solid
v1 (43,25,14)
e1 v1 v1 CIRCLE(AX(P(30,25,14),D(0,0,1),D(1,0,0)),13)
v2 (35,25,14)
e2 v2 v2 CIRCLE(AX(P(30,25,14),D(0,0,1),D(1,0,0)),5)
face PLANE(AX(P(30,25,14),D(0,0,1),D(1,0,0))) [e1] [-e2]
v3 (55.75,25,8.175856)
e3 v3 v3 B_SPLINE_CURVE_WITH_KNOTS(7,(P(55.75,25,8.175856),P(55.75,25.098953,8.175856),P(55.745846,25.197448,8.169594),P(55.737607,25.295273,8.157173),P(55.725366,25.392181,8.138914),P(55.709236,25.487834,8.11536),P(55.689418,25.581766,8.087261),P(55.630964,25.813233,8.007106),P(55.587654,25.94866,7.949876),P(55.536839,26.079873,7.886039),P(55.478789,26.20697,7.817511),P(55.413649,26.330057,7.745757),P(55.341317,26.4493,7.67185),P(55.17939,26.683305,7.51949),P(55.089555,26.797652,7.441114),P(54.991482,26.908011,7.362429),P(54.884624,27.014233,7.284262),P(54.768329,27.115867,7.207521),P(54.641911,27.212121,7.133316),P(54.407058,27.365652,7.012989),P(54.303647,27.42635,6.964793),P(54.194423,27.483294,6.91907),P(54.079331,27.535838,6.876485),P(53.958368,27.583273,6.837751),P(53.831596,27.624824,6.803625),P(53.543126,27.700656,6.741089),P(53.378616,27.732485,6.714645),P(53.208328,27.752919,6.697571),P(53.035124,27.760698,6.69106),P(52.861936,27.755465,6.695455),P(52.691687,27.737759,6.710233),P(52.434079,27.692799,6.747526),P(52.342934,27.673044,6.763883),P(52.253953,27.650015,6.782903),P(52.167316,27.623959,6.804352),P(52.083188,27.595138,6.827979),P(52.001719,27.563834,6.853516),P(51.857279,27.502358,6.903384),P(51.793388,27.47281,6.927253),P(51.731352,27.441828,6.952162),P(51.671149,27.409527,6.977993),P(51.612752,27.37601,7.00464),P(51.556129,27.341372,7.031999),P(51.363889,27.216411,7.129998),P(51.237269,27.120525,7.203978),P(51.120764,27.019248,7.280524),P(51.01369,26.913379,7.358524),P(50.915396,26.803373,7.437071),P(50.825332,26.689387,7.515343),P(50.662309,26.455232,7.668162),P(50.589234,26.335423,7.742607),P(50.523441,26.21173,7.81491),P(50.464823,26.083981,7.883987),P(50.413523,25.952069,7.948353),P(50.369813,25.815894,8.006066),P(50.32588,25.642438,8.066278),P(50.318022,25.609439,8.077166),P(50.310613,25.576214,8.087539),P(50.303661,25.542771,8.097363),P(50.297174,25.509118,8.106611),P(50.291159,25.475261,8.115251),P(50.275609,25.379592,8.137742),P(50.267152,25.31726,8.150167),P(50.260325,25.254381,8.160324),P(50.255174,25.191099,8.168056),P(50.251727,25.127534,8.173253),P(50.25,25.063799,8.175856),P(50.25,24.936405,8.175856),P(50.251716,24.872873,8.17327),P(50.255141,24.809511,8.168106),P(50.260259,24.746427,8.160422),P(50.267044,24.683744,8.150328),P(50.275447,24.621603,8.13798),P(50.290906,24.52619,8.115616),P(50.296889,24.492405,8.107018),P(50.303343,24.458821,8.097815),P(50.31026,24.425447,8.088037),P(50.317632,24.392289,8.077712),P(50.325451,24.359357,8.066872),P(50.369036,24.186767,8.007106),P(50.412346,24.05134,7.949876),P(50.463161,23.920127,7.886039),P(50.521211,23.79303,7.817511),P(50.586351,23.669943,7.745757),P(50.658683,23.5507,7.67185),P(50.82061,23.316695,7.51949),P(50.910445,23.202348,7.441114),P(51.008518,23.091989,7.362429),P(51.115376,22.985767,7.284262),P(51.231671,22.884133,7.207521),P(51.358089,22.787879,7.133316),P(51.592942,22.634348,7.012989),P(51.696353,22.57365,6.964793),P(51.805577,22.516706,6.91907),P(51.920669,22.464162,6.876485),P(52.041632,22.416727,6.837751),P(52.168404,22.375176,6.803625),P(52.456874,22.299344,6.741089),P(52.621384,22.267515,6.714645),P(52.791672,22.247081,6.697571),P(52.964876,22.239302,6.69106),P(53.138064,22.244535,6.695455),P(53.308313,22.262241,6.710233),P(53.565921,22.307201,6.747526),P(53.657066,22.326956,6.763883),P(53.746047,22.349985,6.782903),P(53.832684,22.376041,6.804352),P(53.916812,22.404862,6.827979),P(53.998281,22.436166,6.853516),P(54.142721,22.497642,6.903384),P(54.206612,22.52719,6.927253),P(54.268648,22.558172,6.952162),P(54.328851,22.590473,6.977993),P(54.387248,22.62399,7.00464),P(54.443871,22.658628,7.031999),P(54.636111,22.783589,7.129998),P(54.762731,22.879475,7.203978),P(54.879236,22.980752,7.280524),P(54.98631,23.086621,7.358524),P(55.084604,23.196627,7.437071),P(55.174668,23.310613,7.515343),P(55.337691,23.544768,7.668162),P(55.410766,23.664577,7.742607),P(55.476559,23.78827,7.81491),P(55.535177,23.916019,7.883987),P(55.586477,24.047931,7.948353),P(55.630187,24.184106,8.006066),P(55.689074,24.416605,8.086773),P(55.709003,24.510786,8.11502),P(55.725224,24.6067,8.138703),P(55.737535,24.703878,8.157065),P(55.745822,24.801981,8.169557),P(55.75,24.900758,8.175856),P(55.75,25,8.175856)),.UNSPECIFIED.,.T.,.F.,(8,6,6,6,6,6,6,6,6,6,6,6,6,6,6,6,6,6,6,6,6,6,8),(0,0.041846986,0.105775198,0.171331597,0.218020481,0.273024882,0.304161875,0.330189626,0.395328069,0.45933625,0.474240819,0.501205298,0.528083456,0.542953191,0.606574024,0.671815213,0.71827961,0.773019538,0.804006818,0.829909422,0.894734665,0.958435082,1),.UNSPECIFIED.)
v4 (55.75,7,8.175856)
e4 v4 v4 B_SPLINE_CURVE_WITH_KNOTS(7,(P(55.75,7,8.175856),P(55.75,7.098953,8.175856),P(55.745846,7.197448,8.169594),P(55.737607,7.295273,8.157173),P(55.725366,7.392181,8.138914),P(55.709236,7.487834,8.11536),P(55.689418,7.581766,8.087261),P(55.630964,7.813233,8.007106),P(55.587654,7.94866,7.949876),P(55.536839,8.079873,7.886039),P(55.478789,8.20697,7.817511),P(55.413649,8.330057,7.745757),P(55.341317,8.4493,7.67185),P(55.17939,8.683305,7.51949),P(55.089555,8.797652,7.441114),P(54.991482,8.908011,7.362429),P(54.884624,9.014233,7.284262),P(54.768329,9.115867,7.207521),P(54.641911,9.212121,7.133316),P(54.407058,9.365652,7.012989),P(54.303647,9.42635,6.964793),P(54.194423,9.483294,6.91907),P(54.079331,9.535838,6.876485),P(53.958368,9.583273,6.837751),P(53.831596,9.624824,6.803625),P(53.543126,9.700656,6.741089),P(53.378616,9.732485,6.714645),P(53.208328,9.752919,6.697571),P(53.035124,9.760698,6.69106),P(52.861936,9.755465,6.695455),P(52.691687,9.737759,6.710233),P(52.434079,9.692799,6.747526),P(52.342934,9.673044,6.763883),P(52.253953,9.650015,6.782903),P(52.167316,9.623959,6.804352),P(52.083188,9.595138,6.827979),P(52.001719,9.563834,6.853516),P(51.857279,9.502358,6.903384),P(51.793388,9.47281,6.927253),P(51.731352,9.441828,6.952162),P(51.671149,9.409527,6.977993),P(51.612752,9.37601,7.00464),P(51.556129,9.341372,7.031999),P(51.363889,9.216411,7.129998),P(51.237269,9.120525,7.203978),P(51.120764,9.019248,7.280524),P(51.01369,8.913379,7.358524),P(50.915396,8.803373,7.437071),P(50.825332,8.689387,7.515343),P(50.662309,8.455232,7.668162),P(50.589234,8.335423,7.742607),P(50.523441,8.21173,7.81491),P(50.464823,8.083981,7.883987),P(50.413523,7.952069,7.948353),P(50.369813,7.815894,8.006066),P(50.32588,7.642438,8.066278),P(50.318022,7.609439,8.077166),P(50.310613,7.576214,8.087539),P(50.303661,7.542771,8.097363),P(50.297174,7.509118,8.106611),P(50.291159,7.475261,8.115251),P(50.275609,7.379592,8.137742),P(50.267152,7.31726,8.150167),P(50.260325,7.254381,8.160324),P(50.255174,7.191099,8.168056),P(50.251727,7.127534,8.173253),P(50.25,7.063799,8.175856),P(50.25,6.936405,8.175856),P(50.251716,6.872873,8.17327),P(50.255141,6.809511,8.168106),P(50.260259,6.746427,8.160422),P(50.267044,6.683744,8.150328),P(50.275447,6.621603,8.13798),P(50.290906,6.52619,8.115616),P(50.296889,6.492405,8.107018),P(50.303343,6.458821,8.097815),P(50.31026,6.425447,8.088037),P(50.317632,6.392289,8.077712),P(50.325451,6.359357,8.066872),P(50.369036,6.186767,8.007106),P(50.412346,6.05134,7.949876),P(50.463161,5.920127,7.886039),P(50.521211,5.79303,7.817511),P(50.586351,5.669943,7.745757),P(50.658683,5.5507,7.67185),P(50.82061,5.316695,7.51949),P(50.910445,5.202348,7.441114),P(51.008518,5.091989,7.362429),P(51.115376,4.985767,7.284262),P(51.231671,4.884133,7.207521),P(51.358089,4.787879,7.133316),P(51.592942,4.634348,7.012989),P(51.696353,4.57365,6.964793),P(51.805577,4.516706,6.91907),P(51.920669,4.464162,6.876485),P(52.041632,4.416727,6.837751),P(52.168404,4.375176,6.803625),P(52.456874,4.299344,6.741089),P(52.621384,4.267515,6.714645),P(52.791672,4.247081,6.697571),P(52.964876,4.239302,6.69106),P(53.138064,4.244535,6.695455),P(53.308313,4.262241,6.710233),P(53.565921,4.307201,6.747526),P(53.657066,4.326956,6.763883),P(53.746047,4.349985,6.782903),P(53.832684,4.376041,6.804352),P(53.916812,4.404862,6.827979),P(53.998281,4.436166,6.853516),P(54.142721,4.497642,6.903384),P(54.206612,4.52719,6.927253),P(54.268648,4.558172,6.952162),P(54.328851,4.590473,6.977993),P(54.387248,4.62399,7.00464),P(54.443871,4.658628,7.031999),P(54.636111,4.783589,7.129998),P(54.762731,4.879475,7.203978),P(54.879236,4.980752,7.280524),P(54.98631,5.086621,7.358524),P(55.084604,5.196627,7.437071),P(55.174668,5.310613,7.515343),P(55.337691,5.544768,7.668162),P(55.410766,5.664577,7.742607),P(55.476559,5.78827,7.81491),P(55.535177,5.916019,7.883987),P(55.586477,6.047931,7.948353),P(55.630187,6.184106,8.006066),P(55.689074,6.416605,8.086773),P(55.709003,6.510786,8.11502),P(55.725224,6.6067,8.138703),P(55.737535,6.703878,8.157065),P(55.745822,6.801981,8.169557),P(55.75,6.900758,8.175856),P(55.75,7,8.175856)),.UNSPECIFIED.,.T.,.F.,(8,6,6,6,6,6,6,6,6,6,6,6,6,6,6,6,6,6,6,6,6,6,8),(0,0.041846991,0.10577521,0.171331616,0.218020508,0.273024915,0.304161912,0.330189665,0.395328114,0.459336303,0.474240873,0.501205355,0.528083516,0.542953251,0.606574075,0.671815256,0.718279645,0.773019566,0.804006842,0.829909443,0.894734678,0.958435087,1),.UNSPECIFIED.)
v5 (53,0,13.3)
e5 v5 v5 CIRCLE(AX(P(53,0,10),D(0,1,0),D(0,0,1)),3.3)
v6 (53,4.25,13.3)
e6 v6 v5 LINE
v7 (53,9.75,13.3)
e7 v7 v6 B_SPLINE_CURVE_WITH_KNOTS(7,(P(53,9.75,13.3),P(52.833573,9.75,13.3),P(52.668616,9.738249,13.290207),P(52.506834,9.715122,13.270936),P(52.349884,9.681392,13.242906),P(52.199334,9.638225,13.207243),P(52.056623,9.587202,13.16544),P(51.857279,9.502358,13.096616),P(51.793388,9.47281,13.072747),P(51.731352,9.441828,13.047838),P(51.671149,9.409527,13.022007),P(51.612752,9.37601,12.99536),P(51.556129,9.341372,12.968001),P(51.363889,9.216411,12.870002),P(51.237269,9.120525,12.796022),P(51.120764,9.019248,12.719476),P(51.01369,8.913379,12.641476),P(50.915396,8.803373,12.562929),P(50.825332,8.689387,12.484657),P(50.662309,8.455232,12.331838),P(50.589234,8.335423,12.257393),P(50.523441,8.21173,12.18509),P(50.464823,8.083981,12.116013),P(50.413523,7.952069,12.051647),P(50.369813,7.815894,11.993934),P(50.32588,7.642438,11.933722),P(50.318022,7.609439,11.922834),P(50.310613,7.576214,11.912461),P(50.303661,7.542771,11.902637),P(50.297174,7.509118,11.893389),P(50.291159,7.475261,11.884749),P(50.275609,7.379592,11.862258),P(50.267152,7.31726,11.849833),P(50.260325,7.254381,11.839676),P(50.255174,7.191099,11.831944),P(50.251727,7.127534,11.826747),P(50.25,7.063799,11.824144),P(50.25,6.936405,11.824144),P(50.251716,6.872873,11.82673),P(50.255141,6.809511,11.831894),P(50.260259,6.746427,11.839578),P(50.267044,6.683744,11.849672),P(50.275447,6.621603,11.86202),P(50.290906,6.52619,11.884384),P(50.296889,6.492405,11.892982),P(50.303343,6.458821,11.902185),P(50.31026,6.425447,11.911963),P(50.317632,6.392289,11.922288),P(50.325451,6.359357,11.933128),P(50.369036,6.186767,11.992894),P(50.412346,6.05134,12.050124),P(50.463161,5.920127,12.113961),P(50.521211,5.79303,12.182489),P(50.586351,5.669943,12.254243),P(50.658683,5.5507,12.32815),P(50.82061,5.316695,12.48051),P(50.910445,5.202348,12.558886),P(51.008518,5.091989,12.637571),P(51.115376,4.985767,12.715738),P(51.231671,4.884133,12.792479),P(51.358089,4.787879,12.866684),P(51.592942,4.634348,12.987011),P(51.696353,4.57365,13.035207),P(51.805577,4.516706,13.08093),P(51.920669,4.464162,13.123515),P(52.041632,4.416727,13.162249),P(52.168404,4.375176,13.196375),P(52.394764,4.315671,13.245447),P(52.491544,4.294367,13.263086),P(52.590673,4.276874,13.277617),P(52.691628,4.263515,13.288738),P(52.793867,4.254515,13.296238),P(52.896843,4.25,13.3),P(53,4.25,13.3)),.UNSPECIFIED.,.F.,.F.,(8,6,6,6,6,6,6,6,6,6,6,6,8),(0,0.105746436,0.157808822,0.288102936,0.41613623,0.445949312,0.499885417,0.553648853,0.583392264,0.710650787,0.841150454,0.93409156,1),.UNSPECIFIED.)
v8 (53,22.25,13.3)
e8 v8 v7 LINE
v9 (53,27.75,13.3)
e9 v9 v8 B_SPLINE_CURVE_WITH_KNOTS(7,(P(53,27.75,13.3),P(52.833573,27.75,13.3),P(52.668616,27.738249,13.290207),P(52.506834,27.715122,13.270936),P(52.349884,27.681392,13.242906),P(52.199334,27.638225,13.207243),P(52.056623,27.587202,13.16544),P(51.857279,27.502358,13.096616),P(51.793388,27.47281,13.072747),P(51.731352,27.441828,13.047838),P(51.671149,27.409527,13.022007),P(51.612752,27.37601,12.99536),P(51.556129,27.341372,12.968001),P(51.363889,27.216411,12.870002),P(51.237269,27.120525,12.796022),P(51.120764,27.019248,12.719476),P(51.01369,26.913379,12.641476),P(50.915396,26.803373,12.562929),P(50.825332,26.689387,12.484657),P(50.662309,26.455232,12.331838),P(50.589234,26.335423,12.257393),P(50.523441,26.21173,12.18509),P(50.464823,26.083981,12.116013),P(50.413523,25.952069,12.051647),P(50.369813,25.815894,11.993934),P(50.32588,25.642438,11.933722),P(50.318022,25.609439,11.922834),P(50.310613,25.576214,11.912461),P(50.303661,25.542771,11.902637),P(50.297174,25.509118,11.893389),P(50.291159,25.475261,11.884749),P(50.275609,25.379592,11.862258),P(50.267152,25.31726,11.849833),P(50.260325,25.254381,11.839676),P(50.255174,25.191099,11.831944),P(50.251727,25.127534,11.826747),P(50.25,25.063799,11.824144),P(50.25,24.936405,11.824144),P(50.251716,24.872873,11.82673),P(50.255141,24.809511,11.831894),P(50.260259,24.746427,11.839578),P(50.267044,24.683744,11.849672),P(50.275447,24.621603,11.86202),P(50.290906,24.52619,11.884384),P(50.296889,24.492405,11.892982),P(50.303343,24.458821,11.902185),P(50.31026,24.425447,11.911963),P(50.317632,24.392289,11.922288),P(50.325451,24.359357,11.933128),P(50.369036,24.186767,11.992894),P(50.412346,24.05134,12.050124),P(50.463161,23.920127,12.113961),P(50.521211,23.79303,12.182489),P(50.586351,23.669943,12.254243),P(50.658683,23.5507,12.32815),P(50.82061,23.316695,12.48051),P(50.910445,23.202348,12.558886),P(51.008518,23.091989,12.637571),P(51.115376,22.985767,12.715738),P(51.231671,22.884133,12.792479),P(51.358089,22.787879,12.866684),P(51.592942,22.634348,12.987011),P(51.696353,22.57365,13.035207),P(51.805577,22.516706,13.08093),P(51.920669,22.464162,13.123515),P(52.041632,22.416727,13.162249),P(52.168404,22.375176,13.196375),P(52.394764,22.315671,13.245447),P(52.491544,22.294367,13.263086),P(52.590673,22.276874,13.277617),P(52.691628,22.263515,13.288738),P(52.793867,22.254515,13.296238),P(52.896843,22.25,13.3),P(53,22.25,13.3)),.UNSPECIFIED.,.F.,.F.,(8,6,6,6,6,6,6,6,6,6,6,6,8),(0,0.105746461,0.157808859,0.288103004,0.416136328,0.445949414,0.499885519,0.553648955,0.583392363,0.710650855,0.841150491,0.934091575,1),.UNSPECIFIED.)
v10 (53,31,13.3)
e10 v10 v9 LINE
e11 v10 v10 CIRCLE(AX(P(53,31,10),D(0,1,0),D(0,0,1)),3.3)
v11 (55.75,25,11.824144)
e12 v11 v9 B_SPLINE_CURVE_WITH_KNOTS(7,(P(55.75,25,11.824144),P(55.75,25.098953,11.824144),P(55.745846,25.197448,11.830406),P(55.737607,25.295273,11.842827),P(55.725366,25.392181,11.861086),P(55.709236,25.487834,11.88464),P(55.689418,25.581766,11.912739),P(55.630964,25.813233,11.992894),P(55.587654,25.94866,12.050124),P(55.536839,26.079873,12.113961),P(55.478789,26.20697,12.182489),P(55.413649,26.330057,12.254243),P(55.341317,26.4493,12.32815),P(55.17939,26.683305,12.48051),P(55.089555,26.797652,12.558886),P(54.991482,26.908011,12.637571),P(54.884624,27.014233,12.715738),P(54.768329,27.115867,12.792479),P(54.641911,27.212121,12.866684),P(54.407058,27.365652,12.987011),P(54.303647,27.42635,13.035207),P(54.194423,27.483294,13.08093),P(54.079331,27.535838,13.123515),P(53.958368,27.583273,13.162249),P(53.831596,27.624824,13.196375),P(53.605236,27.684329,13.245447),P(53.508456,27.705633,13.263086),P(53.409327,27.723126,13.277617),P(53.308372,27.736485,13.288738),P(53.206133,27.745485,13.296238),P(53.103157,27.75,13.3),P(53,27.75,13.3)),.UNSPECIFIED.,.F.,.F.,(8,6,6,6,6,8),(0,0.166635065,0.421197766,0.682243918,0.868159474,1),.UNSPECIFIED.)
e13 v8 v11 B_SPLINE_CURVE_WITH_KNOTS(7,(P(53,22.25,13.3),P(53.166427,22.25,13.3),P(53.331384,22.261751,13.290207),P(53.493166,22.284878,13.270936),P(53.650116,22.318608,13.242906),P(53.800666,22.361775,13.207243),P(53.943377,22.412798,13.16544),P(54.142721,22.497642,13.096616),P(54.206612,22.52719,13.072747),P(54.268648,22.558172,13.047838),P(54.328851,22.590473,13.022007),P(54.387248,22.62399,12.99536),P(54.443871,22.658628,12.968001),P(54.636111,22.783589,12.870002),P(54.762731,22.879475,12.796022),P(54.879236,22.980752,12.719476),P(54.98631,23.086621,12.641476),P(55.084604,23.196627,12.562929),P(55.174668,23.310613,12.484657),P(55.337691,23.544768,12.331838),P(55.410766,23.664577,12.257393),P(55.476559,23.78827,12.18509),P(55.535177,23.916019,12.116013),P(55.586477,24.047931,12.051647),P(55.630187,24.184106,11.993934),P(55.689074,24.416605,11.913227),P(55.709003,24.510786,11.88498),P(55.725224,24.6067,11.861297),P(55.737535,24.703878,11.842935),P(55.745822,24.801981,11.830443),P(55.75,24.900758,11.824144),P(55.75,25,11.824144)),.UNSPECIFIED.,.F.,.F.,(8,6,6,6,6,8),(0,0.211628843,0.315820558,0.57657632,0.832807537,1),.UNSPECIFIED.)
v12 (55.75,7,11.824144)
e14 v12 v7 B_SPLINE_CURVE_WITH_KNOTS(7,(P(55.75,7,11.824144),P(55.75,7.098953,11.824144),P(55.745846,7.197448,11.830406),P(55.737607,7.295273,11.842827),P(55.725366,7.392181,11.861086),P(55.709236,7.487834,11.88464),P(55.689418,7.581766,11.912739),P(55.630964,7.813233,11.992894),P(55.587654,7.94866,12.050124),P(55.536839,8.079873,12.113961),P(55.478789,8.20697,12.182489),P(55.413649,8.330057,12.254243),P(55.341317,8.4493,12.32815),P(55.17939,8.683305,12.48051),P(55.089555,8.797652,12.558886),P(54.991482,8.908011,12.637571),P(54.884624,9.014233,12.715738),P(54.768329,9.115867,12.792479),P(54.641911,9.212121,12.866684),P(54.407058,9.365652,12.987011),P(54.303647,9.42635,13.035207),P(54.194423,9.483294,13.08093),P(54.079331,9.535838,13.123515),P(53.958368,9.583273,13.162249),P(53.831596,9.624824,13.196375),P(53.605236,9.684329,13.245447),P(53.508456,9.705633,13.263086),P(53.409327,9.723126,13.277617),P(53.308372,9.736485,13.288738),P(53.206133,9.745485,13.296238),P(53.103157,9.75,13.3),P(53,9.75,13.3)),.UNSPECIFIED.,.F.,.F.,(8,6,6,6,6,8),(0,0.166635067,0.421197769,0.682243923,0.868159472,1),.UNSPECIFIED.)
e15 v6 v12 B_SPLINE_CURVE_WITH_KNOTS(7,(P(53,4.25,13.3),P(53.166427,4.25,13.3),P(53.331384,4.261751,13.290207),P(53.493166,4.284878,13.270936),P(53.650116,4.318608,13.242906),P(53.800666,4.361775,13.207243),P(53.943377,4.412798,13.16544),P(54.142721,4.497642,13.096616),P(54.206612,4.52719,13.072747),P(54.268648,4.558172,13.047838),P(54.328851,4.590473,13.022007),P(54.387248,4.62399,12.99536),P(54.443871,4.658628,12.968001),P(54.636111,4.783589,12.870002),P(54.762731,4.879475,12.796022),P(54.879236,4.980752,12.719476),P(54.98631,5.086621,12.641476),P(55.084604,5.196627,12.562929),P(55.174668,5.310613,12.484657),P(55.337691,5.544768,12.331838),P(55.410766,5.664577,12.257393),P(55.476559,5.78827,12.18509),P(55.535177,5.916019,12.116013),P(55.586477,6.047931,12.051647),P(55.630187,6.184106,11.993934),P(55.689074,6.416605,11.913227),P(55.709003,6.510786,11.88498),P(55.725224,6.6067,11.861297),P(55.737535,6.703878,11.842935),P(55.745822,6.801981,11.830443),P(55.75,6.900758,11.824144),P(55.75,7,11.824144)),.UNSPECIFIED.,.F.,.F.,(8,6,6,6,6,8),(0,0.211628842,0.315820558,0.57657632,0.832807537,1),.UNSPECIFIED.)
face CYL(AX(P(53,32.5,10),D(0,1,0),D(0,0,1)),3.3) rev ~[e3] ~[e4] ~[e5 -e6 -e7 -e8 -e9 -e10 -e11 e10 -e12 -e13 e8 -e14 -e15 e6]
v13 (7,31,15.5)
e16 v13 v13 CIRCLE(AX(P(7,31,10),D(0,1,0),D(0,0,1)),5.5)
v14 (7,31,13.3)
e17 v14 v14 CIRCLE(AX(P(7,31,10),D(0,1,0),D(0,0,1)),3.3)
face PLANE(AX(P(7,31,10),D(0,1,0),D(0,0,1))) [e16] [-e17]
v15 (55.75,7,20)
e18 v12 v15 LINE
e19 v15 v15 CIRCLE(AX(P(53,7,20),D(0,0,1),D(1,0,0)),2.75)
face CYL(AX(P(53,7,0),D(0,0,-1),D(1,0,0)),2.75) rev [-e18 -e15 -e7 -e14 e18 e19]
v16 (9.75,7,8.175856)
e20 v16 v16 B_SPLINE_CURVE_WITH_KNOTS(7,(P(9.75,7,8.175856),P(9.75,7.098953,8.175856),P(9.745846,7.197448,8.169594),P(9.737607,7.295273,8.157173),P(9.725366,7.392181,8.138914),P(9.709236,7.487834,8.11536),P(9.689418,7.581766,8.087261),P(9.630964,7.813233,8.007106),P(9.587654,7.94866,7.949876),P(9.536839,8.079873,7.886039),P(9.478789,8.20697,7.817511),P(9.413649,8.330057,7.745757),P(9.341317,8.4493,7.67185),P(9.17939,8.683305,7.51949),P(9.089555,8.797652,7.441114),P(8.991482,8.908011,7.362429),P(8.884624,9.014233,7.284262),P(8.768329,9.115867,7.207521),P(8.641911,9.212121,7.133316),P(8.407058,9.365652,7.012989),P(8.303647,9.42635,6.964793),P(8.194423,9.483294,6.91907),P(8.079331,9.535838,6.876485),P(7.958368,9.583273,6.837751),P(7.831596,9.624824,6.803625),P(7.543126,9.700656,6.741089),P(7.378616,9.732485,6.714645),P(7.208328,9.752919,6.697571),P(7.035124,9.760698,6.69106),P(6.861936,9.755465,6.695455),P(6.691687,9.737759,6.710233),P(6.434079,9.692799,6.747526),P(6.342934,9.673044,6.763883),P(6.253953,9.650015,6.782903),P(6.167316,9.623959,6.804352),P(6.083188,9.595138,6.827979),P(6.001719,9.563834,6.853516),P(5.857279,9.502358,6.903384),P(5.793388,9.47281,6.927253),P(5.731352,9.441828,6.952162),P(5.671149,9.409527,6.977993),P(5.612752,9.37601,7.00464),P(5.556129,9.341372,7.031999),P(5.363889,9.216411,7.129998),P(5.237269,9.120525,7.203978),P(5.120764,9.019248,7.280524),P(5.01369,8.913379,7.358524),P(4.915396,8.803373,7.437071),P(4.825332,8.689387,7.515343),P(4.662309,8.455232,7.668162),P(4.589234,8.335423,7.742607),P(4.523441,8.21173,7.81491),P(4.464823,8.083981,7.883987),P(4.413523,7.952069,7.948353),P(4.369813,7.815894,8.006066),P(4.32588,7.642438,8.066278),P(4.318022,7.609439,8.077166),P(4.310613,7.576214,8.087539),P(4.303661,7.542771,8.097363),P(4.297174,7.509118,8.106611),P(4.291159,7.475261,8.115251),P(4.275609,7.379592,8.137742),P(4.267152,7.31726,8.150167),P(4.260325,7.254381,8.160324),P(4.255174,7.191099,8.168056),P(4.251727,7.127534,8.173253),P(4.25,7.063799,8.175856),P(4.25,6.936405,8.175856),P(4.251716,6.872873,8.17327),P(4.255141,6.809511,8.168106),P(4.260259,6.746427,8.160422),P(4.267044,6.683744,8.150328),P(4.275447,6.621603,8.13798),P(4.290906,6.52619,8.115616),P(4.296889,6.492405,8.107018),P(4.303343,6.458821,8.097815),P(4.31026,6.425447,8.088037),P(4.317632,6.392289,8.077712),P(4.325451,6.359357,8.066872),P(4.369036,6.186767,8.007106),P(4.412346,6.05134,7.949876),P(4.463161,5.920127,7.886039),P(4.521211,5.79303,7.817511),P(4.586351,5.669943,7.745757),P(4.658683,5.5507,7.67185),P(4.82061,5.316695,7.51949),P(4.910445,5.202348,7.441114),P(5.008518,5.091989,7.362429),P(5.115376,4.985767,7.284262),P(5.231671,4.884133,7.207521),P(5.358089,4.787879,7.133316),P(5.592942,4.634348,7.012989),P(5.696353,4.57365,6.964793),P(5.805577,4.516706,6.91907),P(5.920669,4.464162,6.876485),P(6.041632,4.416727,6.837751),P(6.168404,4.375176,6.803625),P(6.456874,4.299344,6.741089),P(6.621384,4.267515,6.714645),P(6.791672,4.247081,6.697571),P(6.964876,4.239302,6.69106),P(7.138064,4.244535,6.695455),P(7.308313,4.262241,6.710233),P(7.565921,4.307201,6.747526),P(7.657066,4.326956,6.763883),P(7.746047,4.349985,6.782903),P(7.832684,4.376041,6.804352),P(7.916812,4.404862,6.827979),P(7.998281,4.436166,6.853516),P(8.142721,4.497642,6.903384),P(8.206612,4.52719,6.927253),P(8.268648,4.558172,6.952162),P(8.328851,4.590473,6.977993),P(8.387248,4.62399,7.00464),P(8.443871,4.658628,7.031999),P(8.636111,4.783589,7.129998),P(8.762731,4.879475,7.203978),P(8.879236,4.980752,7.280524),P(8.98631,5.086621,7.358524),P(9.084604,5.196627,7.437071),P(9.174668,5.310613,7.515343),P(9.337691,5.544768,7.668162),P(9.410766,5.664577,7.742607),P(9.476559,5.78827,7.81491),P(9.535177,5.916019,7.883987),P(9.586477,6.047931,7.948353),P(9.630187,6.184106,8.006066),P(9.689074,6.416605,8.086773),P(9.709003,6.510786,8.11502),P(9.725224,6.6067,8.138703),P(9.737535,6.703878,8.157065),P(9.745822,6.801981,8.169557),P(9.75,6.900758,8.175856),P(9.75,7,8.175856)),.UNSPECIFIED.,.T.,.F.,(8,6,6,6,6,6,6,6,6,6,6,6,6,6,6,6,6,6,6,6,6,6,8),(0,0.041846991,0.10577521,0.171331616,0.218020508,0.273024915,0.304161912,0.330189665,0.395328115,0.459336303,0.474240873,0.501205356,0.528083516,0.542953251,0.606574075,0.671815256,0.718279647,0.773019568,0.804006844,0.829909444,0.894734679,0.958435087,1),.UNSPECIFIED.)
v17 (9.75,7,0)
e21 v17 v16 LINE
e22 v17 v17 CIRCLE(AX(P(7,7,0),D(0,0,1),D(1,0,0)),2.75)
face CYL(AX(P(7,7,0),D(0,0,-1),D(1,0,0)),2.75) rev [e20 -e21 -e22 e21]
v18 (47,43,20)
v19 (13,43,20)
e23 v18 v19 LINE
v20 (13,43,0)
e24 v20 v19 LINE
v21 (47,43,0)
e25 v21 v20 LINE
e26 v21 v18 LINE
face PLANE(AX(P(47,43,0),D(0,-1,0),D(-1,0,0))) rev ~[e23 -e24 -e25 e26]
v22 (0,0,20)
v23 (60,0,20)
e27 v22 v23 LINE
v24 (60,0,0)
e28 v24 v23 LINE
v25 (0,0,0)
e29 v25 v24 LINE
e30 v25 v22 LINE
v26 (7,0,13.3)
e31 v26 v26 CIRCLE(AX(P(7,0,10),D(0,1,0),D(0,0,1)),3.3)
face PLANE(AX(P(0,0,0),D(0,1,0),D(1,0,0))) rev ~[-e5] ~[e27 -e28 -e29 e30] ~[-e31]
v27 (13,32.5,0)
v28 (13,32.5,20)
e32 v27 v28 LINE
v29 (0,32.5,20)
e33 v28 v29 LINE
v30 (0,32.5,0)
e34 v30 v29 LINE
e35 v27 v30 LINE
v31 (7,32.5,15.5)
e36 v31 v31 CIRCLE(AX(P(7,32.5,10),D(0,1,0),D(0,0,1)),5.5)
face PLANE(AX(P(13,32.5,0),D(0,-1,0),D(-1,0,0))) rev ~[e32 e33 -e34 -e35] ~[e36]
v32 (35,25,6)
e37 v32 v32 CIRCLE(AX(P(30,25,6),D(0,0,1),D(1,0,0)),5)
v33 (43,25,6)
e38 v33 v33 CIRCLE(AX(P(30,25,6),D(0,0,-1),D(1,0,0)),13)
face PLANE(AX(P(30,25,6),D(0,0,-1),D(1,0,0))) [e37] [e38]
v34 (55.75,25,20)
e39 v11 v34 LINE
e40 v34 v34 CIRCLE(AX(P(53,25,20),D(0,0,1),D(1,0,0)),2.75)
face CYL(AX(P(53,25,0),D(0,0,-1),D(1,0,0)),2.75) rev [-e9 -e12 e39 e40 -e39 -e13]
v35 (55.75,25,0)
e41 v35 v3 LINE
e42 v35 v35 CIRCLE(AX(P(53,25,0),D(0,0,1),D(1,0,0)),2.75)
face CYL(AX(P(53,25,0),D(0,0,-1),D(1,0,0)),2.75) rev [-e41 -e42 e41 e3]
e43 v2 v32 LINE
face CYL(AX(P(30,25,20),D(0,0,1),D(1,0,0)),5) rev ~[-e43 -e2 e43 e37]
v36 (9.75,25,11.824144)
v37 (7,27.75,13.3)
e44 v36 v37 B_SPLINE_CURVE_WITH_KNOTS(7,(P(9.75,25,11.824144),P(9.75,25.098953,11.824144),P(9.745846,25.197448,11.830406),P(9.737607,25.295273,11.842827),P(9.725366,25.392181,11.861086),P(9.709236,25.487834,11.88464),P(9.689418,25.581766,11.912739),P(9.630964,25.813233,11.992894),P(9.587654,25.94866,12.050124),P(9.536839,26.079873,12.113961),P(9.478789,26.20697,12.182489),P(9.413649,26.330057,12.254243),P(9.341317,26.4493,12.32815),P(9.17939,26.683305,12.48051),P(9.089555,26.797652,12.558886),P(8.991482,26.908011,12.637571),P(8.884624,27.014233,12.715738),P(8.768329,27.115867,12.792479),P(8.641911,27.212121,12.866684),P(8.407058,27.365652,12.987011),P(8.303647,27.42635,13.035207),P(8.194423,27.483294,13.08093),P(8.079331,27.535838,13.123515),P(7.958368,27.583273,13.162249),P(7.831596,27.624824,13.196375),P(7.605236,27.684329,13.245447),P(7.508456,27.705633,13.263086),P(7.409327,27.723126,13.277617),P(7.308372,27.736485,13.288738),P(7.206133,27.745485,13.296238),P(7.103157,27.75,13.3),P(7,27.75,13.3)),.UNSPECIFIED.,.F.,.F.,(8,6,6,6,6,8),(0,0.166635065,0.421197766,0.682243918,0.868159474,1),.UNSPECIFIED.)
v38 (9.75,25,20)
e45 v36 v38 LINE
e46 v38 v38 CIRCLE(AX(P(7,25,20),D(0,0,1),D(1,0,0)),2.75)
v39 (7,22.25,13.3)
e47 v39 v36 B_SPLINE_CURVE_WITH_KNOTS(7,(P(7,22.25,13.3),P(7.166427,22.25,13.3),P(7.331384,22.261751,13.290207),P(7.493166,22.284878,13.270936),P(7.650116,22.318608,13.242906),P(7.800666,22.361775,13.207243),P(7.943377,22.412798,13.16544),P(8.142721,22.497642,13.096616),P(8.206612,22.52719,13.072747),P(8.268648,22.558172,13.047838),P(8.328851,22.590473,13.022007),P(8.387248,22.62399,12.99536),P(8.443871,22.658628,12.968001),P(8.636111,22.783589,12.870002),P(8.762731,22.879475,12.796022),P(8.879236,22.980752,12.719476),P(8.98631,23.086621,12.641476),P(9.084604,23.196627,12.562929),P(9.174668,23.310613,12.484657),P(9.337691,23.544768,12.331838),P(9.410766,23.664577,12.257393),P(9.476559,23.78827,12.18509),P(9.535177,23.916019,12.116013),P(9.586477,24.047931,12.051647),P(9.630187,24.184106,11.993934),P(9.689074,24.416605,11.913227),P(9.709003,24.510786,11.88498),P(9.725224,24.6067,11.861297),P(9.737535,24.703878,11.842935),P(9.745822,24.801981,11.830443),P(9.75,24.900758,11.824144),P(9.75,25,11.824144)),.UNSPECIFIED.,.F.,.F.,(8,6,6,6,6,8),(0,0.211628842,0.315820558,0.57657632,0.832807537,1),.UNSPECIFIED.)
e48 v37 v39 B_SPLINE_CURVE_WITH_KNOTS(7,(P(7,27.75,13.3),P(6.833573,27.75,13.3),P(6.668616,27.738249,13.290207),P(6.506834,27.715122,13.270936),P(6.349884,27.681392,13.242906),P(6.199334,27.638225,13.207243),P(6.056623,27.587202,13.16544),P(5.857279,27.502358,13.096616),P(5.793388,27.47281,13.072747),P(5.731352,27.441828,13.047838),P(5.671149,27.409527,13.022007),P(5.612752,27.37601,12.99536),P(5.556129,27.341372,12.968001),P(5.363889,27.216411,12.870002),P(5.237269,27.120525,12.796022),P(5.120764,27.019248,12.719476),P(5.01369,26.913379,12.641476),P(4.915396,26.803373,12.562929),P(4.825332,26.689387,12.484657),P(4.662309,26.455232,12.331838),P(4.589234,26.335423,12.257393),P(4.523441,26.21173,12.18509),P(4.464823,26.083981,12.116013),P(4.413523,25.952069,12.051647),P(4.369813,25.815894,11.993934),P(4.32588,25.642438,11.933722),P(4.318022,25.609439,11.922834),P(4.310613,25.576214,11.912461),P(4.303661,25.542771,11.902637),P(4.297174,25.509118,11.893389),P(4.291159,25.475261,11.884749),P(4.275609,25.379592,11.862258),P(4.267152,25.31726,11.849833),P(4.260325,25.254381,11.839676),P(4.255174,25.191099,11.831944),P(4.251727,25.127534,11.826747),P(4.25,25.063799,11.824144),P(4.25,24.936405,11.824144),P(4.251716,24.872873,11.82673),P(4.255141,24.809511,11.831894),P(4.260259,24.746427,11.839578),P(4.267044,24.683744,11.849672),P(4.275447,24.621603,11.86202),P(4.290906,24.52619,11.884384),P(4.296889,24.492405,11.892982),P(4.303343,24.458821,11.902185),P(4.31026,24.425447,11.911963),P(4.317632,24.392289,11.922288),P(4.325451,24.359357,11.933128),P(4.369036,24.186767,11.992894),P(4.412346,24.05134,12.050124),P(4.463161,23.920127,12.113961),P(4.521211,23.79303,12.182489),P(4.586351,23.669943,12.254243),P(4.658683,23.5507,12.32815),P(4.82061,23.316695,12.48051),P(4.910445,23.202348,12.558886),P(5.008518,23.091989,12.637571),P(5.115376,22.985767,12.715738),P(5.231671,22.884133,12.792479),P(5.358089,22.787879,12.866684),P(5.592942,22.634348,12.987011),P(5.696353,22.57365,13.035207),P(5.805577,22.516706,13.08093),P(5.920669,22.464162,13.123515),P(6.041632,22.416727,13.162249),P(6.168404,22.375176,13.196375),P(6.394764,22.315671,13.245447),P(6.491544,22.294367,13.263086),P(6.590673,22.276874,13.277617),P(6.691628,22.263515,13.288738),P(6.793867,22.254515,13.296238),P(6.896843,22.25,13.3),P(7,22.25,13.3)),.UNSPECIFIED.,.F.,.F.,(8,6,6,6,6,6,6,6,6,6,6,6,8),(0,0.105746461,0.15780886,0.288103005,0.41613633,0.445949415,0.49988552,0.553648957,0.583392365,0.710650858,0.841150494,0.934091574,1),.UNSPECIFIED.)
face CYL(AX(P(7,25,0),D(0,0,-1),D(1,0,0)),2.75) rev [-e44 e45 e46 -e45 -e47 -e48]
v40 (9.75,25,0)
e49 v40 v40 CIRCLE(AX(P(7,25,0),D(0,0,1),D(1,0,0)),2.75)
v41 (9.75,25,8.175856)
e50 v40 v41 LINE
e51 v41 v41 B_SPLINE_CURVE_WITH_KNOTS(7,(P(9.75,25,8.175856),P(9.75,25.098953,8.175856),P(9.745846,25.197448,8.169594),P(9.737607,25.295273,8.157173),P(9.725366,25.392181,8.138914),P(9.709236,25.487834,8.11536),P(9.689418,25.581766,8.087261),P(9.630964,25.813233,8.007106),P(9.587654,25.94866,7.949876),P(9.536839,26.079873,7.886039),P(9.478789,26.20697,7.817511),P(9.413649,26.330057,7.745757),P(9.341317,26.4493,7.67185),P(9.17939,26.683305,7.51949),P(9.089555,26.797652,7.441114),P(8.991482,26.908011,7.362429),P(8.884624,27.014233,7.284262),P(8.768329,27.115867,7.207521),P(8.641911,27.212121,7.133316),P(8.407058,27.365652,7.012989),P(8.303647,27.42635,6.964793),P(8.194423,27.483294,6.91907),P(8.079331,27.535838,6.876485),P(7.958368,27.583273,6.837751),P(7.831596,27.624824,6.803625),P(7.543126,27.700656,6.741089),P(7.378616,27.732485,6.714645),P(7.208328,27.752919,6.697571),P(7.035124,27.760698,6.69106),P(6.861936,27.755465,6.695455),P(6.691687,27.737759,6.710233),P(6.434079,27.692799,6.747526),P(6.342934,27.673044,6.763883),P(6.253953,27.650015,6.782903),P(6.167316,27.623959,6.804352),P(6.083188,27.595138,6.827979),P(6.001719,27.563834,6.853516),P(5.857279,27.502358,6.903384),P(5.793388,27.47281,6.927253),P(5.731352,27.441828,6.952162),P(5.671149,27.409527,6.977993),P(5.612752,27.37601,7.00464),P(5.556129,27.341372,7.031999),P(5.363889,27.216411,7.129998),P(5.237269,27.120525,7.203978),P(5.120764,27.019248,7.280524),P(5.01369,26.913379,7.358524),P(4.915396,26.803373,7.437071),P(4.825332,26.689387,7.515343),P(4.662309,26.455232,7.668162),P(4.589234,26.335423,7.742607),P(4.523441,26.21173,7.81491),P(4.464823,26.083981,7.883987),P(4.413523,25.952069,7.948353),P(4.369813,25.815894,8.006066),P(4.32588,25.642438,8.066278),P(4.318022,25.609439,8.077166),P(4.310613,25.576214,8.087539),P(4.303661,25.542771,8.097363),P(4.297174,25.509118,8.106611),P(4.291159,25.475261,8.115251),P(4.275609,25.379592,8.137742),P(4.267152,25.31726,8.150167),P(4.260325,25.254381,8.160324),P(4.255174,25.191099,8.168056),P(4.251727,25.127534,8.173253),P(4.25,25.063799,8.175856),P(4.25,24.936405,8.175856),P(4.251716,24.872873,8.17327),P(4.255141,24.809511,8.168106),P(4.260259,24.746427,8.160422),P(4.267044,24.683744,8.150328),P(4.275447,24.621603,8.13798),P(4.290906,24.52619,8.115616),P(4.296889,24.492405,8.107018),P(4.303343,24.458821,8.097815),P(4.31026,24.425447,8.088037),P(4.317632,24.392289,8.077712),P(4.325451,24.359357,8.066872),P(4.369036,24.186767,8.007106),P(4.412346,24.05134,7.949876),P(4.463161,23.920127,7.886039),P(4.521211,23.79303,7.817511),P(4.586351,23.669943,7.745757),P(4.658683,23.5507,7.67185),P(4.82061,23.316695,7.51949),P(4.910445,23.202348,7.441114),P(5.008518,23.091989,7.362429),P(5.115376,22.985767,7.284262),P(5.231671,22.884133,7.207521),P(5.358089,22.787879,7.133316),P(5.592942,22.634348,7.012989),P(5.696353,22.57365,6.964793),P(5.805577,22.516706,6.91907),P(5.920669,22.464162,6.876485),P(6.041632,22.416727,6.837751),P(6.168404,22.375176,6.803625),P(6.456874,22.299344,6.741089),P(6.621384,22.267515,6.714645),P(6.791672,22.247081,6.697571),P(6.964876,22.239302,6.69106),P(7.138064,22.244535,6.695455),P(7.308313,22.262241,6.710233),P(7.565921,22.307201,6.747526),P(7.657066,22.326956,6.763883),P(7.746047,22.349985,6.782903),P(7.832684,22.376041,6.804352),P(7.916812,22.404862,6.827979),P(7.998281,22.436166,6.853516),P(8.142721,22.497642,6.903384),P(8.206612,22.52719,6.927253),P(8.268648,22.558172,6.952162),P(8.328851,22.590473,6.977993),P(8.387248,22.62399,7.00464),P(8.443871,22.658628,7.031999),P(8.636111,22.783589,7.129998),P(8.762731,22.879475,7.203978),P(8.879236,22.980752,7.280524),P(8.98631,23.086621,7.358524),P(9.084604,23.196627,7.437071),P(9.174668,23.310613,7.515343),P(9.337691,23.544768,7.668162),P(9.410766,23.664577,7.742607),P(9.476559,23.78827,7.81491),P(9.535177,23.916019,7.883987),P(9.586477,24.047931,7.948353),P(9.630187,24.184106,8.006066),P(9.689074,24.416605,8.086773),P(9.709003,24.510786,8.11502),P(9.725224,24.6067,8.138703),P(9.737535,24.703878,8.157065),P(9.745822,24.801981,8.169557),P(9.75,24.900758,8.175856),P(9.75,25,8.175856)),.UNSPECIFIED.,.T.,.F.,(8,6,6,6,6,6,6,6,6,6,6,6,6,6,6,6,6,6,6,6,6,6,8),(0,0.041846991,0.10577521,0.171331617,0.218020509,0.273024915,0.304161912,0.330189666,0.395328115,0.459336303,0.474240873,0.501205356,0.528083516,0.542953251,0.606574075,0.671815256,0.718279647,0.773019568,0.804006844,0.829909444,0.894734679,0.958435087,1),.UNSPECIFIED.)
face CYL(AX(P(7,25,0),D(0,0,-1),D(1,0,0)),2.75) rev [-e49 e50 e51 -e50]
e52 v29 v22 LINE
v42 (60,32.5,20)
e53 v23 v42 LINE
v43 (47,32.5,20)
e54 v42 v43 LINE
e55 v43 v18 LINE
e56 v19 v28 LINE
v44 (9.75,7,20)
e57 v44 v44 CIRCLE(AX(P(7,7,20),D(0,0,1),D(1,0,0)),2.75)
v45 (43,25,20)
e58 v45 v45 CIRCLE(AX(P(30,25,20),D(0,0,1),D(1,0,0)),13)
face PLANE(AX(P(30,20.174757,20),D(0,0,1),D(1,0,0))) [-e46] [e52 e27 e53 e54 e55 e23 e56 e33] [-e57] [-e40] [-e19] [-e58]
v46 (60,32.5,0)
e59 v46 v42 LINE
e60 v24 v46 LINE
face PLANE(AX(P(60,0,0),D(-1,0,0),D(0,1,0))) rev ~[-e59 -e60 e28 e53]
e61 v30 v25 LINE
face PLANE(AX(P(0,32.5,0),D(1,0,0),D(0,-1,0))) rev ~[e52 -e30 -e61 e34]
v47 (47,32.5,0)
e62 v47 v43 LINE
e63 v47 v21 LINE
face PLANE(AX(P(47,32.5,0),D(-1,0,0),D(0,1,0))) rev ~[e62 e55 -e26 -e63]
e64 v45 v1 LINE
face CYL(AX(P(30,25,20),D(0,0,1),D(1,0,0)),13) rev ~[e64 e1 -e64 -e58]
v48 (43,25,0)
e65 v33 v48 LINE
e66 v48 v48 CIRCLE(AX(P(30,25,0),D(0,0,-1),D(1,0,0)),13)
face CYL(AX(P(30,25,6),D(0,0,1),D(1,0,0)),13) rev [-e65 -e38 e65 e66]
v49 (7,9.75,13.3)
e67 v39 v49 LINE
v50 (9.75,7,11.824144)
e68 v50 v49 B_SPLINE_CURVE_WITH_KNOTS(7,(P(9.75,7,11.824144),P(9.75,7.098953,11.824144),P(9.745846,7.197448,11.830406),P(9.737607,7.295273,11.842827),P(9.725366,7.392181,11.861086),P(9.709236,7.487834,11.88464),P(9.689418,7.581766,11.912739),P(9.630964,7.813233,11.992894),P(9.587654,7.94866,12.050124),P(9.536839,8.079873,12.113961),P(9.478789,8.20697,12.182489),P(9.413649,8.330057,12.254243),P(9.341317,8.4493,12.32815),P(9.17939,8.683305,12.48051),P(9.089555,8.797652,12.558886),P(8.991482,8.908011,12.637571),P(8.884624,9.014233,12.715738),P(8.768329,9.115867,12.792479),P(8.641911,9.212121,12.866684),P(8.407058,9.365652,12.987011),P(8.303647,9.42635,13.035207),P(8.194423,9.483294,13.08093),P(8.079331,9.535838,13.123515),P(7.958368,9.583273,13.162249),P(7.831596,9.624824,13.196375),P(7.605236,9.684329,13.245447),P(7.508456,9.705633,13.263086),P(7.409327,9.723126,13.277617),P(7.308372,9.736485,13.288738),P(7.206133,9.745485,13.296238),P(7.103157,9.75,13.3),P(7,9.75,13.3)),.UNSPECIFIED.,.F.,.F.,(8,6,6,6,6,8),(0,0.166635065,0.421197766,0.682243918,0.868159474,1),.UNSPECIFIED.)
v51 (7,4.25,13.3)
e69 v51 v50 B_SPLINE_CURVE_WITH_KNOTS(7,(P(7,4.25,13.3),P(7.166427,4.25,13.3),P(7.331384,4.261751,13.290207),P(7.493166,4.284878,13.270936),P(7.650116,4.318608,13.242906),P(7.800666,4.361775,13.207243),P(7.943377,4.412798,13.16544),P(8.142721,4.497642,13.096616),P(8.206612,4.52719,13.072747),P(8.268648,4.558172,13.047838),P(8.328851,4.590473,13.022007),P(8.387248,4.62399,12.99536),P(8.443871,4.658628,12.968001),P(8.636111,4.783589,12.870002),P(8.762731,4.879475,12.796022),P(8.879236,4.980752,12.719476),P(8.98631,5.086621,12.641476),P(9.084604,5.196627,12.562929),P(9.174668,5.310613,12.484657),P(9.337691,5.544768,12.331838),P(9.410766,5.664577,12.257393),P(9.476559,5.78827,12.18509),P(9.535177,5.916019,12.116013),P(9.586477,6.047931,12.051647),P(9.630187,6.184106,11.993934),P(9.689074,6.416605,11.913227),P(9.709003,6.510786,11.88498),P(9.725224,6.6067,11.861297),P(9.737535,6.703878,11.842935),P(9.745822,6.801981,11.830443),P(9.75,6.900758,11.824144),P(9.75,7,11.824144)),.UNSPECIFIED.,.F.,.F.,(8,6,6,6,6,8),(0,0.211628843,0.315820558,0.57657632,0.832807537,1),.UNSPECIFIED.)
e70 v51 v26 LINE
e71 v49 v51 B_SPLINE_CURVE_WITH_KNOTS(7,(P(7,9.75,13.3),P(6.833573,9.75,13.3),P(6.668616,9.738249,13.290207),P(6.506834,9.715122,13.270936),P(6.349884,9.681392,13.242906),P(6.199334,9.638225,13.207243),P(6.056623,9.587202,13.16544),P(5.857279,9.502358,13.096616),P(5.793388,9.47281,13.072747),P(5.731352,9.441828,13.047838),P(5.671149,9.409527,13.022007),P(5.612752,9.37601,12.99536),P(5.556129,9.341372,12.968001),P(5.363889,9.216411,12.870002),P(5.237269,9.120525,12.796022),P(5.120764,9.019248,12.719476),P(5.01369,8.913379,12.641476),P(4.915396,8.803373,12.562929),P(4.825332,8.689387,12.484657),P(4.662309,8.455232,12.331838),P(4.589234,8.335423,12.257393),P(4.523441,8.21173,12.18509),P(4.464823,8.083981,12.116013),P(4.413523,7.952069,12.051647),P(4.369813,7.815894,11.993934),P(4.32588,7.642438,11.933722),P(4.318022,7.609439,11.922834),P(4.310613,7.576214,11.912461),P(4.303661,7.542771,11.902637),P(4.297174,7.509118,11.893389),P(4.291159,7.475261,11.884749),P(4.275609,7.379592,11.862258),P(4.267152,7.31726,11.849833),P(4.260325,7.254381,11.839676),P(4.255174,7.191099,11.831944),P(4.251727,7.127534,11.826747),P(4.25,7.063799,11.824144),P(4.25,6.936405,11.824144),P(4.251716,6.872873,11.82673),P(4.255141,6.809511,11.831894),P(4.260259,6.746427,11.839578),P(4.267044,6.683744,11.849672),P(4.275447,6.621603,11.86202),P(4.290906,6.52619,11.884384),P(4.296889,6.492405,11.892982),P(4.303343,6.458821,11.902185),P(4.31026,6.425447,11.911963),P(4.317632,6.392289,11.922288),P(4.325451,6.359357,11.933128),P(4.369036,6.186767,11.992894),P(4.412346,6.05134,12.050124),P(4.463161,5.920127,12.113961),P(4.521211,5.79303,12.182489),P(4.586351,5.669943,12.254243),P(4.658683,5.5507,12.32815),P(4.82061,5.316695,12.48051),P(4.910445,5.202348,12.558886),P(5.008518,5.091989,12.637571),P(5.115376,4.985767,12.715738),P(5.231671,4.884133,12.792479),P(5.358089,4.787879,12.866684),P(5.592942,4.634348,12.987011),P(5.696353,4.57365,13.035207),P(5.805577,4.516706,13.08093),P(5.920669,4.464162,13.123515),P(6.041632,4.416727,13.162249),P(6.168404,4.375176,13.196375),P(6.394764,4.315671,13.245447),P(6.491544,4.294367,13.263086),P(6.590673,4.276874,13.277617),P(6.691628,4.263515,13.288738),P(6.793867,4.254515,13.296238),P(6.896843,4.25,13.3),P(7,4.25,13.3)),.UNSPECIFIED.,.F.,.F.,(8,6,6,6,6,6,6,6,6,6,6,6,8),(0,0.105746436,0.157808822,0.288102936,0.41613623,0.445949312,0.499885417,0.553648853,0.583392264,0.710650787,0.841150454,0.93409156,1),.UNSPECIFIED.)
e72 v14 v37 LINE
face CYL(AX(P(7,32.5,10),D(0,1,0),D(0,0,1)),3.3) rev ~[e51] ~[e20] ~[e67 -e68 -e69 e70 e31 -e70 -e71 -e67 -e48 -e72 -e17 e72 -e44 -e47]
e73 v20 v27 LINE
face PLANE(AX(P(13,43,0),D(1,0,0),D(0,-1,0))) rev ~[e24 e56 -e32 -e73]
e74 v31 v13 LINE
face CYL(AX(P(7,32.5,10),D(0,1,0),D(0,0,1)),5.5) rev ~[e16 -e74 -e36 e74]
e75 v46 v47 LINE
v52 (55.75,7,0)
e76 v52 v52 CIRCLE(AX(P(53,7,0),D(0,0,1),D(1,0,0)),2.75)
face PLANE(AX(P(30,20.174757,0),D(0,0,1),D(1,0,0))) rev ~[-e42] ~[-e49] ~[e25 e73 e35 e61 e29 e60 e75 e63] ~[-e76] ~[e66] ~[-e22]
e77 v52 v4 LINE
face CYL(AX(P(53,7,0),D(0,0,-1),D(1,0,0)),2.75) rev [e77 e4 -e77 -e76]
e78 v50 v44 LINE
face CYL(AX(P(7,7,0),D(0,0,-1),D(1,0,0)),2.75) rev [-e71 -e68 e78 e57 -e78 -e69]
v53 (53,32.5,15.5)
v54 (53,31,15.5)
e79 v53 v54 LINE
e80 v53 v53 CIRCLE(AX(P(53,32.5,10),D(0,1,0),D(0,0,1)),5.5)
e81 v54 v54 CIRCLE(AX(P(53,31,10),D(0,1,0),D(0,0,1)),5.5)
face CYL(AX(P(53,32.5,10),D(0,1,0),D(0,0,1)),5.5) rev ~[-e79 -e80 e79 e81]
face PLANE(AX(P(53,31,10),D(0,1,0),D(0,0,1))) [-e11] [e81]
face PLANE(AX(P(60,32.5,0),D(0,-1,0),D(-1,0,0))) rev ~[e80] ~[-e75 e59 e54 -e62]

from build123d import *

# Parameters (mm, degrees)
CROQUIS1_R              = 2.75
SALIENTE_EXTRUIR1_DEPTH = 20
CROQUIS2_R              = 5
CORTAR_EXTRUIR1_DEPTH   = 20
CROQUIS3_R              = 13
CORTAR_EXTRUIR2_DEPTH   = 6
CORTAR_EXTRUIR3_START   = -6
CROQUIS4_R              = 13
CORTAR_EXTRUIR3_DEPTH   = 6
CROQUIS5_R              = 3.3
CORTAR_EXTRUIR4_DEPTH   = 72.107313267
CROQUIS6_R              = 5.5
CORTAR_EXTRUIR5_DEPTH   = 1.5


with BuildPart() as part:
    # Croquis1 → Saliente-Extruir1 (new body)
    with BuildSketch(Plane.XY):
        Polygon((0, 0), (60, 0), (60, 32.5), (47, 32.5), (47, 43), (13, 43), (13, 32.5), (0, 32.5), align=None)
        with Locations((7, 25)):
            Circle(CROQUIS1_R, mode=Mode.SUBTRACT)
        with Locations((53, 25)):
            Circle(CROQUIS1_R, mode=Mode.SUBTRACT)
        with Locations((53, 7)):
            Circle(CROQUIS1_R, mode=Mode.SUBTRACT)
        with Locations((7, 7)):
            Circle(CROQUIS1_R, mode=Mode.SUBTRACT)
    extrude(amount=SALIENTE_EXTRUIR1_DEPTH)

    # Croquis2 → Cortar-Extruir1 (cut)
    with BuildSketch(Plane.XY.offset(20)):
        with Locations((30, 25)):
            Circle(CROQUIS2_R)
    extrude(amount=-CORTAR_EXTRUIR1_DEPTH, mode=Mode.SUBTRACT)

    # Croquis3 → Cortar-Extruir2 (cut)
    with BuildSketch(Plane.XY.offset(20)):
        with Locations((30, 25)):
            Circle(CROQUIS3_R)
    extrude(amount=-CORTAR_EXTRUIR2_DEPTH, mode=Mode.SUBTRACT)

    # Croquis4 → Cortar-Extruir3 (cut)
    with BuildSketch(Plane(origin=(0, 0, 0), x_dir=(-1, 0, 0), z_dir=(0, 0, -1)).offset(CORTAR_EXTRUIR3_START)):
        with Locations(Location((-30, 25, 0), (0, 0, 180))):
            Circle(CROQUIS4_R)
    extrude(amount=CORTAR_EXTRUIR3_DEPTH, mode=Mode.SUBTRACT)

    # Croquis5 → Cortar-Extruir4 (cut, through all)
    with BuildSketch(Plane(origin=(0, 32.5, 0), x_dir=(1, 0, 0), z_dir=(0, 1, 0))):
        with Locations(Location((7, -10, 0), (0, 0, 270))):
            Circle(CROQUIS5_R)
        with Locations(Location((53, -10, 0), (0, 0, 270))):
            Circle(CROQUIS5_R)
    extrude(amount=-CORTAR_EXTRUIR4_DEPTH, mode=Mode.SUBTRACT)

    # Croquis6 → Cortar-Extruir5 (cut)
    with BuildSketch(Plane(origin=(0, 32.5, 0), x_dir=(1, 0, 0), z_dir=(0, 1, 0))):
        with Locations(Location((7, -10, 0), (0, 0, 270))):
            Circle(CROQUIS6_R)
        with Locations(Location((53, -10, 0), (0, 0, 270))):
            Circle(CROQUIS6_R)
    extrude(amount=-CORTAR_EXTRUIR5_DEPTH, mode=Mode.SUBTRACT)


solid = part.part
